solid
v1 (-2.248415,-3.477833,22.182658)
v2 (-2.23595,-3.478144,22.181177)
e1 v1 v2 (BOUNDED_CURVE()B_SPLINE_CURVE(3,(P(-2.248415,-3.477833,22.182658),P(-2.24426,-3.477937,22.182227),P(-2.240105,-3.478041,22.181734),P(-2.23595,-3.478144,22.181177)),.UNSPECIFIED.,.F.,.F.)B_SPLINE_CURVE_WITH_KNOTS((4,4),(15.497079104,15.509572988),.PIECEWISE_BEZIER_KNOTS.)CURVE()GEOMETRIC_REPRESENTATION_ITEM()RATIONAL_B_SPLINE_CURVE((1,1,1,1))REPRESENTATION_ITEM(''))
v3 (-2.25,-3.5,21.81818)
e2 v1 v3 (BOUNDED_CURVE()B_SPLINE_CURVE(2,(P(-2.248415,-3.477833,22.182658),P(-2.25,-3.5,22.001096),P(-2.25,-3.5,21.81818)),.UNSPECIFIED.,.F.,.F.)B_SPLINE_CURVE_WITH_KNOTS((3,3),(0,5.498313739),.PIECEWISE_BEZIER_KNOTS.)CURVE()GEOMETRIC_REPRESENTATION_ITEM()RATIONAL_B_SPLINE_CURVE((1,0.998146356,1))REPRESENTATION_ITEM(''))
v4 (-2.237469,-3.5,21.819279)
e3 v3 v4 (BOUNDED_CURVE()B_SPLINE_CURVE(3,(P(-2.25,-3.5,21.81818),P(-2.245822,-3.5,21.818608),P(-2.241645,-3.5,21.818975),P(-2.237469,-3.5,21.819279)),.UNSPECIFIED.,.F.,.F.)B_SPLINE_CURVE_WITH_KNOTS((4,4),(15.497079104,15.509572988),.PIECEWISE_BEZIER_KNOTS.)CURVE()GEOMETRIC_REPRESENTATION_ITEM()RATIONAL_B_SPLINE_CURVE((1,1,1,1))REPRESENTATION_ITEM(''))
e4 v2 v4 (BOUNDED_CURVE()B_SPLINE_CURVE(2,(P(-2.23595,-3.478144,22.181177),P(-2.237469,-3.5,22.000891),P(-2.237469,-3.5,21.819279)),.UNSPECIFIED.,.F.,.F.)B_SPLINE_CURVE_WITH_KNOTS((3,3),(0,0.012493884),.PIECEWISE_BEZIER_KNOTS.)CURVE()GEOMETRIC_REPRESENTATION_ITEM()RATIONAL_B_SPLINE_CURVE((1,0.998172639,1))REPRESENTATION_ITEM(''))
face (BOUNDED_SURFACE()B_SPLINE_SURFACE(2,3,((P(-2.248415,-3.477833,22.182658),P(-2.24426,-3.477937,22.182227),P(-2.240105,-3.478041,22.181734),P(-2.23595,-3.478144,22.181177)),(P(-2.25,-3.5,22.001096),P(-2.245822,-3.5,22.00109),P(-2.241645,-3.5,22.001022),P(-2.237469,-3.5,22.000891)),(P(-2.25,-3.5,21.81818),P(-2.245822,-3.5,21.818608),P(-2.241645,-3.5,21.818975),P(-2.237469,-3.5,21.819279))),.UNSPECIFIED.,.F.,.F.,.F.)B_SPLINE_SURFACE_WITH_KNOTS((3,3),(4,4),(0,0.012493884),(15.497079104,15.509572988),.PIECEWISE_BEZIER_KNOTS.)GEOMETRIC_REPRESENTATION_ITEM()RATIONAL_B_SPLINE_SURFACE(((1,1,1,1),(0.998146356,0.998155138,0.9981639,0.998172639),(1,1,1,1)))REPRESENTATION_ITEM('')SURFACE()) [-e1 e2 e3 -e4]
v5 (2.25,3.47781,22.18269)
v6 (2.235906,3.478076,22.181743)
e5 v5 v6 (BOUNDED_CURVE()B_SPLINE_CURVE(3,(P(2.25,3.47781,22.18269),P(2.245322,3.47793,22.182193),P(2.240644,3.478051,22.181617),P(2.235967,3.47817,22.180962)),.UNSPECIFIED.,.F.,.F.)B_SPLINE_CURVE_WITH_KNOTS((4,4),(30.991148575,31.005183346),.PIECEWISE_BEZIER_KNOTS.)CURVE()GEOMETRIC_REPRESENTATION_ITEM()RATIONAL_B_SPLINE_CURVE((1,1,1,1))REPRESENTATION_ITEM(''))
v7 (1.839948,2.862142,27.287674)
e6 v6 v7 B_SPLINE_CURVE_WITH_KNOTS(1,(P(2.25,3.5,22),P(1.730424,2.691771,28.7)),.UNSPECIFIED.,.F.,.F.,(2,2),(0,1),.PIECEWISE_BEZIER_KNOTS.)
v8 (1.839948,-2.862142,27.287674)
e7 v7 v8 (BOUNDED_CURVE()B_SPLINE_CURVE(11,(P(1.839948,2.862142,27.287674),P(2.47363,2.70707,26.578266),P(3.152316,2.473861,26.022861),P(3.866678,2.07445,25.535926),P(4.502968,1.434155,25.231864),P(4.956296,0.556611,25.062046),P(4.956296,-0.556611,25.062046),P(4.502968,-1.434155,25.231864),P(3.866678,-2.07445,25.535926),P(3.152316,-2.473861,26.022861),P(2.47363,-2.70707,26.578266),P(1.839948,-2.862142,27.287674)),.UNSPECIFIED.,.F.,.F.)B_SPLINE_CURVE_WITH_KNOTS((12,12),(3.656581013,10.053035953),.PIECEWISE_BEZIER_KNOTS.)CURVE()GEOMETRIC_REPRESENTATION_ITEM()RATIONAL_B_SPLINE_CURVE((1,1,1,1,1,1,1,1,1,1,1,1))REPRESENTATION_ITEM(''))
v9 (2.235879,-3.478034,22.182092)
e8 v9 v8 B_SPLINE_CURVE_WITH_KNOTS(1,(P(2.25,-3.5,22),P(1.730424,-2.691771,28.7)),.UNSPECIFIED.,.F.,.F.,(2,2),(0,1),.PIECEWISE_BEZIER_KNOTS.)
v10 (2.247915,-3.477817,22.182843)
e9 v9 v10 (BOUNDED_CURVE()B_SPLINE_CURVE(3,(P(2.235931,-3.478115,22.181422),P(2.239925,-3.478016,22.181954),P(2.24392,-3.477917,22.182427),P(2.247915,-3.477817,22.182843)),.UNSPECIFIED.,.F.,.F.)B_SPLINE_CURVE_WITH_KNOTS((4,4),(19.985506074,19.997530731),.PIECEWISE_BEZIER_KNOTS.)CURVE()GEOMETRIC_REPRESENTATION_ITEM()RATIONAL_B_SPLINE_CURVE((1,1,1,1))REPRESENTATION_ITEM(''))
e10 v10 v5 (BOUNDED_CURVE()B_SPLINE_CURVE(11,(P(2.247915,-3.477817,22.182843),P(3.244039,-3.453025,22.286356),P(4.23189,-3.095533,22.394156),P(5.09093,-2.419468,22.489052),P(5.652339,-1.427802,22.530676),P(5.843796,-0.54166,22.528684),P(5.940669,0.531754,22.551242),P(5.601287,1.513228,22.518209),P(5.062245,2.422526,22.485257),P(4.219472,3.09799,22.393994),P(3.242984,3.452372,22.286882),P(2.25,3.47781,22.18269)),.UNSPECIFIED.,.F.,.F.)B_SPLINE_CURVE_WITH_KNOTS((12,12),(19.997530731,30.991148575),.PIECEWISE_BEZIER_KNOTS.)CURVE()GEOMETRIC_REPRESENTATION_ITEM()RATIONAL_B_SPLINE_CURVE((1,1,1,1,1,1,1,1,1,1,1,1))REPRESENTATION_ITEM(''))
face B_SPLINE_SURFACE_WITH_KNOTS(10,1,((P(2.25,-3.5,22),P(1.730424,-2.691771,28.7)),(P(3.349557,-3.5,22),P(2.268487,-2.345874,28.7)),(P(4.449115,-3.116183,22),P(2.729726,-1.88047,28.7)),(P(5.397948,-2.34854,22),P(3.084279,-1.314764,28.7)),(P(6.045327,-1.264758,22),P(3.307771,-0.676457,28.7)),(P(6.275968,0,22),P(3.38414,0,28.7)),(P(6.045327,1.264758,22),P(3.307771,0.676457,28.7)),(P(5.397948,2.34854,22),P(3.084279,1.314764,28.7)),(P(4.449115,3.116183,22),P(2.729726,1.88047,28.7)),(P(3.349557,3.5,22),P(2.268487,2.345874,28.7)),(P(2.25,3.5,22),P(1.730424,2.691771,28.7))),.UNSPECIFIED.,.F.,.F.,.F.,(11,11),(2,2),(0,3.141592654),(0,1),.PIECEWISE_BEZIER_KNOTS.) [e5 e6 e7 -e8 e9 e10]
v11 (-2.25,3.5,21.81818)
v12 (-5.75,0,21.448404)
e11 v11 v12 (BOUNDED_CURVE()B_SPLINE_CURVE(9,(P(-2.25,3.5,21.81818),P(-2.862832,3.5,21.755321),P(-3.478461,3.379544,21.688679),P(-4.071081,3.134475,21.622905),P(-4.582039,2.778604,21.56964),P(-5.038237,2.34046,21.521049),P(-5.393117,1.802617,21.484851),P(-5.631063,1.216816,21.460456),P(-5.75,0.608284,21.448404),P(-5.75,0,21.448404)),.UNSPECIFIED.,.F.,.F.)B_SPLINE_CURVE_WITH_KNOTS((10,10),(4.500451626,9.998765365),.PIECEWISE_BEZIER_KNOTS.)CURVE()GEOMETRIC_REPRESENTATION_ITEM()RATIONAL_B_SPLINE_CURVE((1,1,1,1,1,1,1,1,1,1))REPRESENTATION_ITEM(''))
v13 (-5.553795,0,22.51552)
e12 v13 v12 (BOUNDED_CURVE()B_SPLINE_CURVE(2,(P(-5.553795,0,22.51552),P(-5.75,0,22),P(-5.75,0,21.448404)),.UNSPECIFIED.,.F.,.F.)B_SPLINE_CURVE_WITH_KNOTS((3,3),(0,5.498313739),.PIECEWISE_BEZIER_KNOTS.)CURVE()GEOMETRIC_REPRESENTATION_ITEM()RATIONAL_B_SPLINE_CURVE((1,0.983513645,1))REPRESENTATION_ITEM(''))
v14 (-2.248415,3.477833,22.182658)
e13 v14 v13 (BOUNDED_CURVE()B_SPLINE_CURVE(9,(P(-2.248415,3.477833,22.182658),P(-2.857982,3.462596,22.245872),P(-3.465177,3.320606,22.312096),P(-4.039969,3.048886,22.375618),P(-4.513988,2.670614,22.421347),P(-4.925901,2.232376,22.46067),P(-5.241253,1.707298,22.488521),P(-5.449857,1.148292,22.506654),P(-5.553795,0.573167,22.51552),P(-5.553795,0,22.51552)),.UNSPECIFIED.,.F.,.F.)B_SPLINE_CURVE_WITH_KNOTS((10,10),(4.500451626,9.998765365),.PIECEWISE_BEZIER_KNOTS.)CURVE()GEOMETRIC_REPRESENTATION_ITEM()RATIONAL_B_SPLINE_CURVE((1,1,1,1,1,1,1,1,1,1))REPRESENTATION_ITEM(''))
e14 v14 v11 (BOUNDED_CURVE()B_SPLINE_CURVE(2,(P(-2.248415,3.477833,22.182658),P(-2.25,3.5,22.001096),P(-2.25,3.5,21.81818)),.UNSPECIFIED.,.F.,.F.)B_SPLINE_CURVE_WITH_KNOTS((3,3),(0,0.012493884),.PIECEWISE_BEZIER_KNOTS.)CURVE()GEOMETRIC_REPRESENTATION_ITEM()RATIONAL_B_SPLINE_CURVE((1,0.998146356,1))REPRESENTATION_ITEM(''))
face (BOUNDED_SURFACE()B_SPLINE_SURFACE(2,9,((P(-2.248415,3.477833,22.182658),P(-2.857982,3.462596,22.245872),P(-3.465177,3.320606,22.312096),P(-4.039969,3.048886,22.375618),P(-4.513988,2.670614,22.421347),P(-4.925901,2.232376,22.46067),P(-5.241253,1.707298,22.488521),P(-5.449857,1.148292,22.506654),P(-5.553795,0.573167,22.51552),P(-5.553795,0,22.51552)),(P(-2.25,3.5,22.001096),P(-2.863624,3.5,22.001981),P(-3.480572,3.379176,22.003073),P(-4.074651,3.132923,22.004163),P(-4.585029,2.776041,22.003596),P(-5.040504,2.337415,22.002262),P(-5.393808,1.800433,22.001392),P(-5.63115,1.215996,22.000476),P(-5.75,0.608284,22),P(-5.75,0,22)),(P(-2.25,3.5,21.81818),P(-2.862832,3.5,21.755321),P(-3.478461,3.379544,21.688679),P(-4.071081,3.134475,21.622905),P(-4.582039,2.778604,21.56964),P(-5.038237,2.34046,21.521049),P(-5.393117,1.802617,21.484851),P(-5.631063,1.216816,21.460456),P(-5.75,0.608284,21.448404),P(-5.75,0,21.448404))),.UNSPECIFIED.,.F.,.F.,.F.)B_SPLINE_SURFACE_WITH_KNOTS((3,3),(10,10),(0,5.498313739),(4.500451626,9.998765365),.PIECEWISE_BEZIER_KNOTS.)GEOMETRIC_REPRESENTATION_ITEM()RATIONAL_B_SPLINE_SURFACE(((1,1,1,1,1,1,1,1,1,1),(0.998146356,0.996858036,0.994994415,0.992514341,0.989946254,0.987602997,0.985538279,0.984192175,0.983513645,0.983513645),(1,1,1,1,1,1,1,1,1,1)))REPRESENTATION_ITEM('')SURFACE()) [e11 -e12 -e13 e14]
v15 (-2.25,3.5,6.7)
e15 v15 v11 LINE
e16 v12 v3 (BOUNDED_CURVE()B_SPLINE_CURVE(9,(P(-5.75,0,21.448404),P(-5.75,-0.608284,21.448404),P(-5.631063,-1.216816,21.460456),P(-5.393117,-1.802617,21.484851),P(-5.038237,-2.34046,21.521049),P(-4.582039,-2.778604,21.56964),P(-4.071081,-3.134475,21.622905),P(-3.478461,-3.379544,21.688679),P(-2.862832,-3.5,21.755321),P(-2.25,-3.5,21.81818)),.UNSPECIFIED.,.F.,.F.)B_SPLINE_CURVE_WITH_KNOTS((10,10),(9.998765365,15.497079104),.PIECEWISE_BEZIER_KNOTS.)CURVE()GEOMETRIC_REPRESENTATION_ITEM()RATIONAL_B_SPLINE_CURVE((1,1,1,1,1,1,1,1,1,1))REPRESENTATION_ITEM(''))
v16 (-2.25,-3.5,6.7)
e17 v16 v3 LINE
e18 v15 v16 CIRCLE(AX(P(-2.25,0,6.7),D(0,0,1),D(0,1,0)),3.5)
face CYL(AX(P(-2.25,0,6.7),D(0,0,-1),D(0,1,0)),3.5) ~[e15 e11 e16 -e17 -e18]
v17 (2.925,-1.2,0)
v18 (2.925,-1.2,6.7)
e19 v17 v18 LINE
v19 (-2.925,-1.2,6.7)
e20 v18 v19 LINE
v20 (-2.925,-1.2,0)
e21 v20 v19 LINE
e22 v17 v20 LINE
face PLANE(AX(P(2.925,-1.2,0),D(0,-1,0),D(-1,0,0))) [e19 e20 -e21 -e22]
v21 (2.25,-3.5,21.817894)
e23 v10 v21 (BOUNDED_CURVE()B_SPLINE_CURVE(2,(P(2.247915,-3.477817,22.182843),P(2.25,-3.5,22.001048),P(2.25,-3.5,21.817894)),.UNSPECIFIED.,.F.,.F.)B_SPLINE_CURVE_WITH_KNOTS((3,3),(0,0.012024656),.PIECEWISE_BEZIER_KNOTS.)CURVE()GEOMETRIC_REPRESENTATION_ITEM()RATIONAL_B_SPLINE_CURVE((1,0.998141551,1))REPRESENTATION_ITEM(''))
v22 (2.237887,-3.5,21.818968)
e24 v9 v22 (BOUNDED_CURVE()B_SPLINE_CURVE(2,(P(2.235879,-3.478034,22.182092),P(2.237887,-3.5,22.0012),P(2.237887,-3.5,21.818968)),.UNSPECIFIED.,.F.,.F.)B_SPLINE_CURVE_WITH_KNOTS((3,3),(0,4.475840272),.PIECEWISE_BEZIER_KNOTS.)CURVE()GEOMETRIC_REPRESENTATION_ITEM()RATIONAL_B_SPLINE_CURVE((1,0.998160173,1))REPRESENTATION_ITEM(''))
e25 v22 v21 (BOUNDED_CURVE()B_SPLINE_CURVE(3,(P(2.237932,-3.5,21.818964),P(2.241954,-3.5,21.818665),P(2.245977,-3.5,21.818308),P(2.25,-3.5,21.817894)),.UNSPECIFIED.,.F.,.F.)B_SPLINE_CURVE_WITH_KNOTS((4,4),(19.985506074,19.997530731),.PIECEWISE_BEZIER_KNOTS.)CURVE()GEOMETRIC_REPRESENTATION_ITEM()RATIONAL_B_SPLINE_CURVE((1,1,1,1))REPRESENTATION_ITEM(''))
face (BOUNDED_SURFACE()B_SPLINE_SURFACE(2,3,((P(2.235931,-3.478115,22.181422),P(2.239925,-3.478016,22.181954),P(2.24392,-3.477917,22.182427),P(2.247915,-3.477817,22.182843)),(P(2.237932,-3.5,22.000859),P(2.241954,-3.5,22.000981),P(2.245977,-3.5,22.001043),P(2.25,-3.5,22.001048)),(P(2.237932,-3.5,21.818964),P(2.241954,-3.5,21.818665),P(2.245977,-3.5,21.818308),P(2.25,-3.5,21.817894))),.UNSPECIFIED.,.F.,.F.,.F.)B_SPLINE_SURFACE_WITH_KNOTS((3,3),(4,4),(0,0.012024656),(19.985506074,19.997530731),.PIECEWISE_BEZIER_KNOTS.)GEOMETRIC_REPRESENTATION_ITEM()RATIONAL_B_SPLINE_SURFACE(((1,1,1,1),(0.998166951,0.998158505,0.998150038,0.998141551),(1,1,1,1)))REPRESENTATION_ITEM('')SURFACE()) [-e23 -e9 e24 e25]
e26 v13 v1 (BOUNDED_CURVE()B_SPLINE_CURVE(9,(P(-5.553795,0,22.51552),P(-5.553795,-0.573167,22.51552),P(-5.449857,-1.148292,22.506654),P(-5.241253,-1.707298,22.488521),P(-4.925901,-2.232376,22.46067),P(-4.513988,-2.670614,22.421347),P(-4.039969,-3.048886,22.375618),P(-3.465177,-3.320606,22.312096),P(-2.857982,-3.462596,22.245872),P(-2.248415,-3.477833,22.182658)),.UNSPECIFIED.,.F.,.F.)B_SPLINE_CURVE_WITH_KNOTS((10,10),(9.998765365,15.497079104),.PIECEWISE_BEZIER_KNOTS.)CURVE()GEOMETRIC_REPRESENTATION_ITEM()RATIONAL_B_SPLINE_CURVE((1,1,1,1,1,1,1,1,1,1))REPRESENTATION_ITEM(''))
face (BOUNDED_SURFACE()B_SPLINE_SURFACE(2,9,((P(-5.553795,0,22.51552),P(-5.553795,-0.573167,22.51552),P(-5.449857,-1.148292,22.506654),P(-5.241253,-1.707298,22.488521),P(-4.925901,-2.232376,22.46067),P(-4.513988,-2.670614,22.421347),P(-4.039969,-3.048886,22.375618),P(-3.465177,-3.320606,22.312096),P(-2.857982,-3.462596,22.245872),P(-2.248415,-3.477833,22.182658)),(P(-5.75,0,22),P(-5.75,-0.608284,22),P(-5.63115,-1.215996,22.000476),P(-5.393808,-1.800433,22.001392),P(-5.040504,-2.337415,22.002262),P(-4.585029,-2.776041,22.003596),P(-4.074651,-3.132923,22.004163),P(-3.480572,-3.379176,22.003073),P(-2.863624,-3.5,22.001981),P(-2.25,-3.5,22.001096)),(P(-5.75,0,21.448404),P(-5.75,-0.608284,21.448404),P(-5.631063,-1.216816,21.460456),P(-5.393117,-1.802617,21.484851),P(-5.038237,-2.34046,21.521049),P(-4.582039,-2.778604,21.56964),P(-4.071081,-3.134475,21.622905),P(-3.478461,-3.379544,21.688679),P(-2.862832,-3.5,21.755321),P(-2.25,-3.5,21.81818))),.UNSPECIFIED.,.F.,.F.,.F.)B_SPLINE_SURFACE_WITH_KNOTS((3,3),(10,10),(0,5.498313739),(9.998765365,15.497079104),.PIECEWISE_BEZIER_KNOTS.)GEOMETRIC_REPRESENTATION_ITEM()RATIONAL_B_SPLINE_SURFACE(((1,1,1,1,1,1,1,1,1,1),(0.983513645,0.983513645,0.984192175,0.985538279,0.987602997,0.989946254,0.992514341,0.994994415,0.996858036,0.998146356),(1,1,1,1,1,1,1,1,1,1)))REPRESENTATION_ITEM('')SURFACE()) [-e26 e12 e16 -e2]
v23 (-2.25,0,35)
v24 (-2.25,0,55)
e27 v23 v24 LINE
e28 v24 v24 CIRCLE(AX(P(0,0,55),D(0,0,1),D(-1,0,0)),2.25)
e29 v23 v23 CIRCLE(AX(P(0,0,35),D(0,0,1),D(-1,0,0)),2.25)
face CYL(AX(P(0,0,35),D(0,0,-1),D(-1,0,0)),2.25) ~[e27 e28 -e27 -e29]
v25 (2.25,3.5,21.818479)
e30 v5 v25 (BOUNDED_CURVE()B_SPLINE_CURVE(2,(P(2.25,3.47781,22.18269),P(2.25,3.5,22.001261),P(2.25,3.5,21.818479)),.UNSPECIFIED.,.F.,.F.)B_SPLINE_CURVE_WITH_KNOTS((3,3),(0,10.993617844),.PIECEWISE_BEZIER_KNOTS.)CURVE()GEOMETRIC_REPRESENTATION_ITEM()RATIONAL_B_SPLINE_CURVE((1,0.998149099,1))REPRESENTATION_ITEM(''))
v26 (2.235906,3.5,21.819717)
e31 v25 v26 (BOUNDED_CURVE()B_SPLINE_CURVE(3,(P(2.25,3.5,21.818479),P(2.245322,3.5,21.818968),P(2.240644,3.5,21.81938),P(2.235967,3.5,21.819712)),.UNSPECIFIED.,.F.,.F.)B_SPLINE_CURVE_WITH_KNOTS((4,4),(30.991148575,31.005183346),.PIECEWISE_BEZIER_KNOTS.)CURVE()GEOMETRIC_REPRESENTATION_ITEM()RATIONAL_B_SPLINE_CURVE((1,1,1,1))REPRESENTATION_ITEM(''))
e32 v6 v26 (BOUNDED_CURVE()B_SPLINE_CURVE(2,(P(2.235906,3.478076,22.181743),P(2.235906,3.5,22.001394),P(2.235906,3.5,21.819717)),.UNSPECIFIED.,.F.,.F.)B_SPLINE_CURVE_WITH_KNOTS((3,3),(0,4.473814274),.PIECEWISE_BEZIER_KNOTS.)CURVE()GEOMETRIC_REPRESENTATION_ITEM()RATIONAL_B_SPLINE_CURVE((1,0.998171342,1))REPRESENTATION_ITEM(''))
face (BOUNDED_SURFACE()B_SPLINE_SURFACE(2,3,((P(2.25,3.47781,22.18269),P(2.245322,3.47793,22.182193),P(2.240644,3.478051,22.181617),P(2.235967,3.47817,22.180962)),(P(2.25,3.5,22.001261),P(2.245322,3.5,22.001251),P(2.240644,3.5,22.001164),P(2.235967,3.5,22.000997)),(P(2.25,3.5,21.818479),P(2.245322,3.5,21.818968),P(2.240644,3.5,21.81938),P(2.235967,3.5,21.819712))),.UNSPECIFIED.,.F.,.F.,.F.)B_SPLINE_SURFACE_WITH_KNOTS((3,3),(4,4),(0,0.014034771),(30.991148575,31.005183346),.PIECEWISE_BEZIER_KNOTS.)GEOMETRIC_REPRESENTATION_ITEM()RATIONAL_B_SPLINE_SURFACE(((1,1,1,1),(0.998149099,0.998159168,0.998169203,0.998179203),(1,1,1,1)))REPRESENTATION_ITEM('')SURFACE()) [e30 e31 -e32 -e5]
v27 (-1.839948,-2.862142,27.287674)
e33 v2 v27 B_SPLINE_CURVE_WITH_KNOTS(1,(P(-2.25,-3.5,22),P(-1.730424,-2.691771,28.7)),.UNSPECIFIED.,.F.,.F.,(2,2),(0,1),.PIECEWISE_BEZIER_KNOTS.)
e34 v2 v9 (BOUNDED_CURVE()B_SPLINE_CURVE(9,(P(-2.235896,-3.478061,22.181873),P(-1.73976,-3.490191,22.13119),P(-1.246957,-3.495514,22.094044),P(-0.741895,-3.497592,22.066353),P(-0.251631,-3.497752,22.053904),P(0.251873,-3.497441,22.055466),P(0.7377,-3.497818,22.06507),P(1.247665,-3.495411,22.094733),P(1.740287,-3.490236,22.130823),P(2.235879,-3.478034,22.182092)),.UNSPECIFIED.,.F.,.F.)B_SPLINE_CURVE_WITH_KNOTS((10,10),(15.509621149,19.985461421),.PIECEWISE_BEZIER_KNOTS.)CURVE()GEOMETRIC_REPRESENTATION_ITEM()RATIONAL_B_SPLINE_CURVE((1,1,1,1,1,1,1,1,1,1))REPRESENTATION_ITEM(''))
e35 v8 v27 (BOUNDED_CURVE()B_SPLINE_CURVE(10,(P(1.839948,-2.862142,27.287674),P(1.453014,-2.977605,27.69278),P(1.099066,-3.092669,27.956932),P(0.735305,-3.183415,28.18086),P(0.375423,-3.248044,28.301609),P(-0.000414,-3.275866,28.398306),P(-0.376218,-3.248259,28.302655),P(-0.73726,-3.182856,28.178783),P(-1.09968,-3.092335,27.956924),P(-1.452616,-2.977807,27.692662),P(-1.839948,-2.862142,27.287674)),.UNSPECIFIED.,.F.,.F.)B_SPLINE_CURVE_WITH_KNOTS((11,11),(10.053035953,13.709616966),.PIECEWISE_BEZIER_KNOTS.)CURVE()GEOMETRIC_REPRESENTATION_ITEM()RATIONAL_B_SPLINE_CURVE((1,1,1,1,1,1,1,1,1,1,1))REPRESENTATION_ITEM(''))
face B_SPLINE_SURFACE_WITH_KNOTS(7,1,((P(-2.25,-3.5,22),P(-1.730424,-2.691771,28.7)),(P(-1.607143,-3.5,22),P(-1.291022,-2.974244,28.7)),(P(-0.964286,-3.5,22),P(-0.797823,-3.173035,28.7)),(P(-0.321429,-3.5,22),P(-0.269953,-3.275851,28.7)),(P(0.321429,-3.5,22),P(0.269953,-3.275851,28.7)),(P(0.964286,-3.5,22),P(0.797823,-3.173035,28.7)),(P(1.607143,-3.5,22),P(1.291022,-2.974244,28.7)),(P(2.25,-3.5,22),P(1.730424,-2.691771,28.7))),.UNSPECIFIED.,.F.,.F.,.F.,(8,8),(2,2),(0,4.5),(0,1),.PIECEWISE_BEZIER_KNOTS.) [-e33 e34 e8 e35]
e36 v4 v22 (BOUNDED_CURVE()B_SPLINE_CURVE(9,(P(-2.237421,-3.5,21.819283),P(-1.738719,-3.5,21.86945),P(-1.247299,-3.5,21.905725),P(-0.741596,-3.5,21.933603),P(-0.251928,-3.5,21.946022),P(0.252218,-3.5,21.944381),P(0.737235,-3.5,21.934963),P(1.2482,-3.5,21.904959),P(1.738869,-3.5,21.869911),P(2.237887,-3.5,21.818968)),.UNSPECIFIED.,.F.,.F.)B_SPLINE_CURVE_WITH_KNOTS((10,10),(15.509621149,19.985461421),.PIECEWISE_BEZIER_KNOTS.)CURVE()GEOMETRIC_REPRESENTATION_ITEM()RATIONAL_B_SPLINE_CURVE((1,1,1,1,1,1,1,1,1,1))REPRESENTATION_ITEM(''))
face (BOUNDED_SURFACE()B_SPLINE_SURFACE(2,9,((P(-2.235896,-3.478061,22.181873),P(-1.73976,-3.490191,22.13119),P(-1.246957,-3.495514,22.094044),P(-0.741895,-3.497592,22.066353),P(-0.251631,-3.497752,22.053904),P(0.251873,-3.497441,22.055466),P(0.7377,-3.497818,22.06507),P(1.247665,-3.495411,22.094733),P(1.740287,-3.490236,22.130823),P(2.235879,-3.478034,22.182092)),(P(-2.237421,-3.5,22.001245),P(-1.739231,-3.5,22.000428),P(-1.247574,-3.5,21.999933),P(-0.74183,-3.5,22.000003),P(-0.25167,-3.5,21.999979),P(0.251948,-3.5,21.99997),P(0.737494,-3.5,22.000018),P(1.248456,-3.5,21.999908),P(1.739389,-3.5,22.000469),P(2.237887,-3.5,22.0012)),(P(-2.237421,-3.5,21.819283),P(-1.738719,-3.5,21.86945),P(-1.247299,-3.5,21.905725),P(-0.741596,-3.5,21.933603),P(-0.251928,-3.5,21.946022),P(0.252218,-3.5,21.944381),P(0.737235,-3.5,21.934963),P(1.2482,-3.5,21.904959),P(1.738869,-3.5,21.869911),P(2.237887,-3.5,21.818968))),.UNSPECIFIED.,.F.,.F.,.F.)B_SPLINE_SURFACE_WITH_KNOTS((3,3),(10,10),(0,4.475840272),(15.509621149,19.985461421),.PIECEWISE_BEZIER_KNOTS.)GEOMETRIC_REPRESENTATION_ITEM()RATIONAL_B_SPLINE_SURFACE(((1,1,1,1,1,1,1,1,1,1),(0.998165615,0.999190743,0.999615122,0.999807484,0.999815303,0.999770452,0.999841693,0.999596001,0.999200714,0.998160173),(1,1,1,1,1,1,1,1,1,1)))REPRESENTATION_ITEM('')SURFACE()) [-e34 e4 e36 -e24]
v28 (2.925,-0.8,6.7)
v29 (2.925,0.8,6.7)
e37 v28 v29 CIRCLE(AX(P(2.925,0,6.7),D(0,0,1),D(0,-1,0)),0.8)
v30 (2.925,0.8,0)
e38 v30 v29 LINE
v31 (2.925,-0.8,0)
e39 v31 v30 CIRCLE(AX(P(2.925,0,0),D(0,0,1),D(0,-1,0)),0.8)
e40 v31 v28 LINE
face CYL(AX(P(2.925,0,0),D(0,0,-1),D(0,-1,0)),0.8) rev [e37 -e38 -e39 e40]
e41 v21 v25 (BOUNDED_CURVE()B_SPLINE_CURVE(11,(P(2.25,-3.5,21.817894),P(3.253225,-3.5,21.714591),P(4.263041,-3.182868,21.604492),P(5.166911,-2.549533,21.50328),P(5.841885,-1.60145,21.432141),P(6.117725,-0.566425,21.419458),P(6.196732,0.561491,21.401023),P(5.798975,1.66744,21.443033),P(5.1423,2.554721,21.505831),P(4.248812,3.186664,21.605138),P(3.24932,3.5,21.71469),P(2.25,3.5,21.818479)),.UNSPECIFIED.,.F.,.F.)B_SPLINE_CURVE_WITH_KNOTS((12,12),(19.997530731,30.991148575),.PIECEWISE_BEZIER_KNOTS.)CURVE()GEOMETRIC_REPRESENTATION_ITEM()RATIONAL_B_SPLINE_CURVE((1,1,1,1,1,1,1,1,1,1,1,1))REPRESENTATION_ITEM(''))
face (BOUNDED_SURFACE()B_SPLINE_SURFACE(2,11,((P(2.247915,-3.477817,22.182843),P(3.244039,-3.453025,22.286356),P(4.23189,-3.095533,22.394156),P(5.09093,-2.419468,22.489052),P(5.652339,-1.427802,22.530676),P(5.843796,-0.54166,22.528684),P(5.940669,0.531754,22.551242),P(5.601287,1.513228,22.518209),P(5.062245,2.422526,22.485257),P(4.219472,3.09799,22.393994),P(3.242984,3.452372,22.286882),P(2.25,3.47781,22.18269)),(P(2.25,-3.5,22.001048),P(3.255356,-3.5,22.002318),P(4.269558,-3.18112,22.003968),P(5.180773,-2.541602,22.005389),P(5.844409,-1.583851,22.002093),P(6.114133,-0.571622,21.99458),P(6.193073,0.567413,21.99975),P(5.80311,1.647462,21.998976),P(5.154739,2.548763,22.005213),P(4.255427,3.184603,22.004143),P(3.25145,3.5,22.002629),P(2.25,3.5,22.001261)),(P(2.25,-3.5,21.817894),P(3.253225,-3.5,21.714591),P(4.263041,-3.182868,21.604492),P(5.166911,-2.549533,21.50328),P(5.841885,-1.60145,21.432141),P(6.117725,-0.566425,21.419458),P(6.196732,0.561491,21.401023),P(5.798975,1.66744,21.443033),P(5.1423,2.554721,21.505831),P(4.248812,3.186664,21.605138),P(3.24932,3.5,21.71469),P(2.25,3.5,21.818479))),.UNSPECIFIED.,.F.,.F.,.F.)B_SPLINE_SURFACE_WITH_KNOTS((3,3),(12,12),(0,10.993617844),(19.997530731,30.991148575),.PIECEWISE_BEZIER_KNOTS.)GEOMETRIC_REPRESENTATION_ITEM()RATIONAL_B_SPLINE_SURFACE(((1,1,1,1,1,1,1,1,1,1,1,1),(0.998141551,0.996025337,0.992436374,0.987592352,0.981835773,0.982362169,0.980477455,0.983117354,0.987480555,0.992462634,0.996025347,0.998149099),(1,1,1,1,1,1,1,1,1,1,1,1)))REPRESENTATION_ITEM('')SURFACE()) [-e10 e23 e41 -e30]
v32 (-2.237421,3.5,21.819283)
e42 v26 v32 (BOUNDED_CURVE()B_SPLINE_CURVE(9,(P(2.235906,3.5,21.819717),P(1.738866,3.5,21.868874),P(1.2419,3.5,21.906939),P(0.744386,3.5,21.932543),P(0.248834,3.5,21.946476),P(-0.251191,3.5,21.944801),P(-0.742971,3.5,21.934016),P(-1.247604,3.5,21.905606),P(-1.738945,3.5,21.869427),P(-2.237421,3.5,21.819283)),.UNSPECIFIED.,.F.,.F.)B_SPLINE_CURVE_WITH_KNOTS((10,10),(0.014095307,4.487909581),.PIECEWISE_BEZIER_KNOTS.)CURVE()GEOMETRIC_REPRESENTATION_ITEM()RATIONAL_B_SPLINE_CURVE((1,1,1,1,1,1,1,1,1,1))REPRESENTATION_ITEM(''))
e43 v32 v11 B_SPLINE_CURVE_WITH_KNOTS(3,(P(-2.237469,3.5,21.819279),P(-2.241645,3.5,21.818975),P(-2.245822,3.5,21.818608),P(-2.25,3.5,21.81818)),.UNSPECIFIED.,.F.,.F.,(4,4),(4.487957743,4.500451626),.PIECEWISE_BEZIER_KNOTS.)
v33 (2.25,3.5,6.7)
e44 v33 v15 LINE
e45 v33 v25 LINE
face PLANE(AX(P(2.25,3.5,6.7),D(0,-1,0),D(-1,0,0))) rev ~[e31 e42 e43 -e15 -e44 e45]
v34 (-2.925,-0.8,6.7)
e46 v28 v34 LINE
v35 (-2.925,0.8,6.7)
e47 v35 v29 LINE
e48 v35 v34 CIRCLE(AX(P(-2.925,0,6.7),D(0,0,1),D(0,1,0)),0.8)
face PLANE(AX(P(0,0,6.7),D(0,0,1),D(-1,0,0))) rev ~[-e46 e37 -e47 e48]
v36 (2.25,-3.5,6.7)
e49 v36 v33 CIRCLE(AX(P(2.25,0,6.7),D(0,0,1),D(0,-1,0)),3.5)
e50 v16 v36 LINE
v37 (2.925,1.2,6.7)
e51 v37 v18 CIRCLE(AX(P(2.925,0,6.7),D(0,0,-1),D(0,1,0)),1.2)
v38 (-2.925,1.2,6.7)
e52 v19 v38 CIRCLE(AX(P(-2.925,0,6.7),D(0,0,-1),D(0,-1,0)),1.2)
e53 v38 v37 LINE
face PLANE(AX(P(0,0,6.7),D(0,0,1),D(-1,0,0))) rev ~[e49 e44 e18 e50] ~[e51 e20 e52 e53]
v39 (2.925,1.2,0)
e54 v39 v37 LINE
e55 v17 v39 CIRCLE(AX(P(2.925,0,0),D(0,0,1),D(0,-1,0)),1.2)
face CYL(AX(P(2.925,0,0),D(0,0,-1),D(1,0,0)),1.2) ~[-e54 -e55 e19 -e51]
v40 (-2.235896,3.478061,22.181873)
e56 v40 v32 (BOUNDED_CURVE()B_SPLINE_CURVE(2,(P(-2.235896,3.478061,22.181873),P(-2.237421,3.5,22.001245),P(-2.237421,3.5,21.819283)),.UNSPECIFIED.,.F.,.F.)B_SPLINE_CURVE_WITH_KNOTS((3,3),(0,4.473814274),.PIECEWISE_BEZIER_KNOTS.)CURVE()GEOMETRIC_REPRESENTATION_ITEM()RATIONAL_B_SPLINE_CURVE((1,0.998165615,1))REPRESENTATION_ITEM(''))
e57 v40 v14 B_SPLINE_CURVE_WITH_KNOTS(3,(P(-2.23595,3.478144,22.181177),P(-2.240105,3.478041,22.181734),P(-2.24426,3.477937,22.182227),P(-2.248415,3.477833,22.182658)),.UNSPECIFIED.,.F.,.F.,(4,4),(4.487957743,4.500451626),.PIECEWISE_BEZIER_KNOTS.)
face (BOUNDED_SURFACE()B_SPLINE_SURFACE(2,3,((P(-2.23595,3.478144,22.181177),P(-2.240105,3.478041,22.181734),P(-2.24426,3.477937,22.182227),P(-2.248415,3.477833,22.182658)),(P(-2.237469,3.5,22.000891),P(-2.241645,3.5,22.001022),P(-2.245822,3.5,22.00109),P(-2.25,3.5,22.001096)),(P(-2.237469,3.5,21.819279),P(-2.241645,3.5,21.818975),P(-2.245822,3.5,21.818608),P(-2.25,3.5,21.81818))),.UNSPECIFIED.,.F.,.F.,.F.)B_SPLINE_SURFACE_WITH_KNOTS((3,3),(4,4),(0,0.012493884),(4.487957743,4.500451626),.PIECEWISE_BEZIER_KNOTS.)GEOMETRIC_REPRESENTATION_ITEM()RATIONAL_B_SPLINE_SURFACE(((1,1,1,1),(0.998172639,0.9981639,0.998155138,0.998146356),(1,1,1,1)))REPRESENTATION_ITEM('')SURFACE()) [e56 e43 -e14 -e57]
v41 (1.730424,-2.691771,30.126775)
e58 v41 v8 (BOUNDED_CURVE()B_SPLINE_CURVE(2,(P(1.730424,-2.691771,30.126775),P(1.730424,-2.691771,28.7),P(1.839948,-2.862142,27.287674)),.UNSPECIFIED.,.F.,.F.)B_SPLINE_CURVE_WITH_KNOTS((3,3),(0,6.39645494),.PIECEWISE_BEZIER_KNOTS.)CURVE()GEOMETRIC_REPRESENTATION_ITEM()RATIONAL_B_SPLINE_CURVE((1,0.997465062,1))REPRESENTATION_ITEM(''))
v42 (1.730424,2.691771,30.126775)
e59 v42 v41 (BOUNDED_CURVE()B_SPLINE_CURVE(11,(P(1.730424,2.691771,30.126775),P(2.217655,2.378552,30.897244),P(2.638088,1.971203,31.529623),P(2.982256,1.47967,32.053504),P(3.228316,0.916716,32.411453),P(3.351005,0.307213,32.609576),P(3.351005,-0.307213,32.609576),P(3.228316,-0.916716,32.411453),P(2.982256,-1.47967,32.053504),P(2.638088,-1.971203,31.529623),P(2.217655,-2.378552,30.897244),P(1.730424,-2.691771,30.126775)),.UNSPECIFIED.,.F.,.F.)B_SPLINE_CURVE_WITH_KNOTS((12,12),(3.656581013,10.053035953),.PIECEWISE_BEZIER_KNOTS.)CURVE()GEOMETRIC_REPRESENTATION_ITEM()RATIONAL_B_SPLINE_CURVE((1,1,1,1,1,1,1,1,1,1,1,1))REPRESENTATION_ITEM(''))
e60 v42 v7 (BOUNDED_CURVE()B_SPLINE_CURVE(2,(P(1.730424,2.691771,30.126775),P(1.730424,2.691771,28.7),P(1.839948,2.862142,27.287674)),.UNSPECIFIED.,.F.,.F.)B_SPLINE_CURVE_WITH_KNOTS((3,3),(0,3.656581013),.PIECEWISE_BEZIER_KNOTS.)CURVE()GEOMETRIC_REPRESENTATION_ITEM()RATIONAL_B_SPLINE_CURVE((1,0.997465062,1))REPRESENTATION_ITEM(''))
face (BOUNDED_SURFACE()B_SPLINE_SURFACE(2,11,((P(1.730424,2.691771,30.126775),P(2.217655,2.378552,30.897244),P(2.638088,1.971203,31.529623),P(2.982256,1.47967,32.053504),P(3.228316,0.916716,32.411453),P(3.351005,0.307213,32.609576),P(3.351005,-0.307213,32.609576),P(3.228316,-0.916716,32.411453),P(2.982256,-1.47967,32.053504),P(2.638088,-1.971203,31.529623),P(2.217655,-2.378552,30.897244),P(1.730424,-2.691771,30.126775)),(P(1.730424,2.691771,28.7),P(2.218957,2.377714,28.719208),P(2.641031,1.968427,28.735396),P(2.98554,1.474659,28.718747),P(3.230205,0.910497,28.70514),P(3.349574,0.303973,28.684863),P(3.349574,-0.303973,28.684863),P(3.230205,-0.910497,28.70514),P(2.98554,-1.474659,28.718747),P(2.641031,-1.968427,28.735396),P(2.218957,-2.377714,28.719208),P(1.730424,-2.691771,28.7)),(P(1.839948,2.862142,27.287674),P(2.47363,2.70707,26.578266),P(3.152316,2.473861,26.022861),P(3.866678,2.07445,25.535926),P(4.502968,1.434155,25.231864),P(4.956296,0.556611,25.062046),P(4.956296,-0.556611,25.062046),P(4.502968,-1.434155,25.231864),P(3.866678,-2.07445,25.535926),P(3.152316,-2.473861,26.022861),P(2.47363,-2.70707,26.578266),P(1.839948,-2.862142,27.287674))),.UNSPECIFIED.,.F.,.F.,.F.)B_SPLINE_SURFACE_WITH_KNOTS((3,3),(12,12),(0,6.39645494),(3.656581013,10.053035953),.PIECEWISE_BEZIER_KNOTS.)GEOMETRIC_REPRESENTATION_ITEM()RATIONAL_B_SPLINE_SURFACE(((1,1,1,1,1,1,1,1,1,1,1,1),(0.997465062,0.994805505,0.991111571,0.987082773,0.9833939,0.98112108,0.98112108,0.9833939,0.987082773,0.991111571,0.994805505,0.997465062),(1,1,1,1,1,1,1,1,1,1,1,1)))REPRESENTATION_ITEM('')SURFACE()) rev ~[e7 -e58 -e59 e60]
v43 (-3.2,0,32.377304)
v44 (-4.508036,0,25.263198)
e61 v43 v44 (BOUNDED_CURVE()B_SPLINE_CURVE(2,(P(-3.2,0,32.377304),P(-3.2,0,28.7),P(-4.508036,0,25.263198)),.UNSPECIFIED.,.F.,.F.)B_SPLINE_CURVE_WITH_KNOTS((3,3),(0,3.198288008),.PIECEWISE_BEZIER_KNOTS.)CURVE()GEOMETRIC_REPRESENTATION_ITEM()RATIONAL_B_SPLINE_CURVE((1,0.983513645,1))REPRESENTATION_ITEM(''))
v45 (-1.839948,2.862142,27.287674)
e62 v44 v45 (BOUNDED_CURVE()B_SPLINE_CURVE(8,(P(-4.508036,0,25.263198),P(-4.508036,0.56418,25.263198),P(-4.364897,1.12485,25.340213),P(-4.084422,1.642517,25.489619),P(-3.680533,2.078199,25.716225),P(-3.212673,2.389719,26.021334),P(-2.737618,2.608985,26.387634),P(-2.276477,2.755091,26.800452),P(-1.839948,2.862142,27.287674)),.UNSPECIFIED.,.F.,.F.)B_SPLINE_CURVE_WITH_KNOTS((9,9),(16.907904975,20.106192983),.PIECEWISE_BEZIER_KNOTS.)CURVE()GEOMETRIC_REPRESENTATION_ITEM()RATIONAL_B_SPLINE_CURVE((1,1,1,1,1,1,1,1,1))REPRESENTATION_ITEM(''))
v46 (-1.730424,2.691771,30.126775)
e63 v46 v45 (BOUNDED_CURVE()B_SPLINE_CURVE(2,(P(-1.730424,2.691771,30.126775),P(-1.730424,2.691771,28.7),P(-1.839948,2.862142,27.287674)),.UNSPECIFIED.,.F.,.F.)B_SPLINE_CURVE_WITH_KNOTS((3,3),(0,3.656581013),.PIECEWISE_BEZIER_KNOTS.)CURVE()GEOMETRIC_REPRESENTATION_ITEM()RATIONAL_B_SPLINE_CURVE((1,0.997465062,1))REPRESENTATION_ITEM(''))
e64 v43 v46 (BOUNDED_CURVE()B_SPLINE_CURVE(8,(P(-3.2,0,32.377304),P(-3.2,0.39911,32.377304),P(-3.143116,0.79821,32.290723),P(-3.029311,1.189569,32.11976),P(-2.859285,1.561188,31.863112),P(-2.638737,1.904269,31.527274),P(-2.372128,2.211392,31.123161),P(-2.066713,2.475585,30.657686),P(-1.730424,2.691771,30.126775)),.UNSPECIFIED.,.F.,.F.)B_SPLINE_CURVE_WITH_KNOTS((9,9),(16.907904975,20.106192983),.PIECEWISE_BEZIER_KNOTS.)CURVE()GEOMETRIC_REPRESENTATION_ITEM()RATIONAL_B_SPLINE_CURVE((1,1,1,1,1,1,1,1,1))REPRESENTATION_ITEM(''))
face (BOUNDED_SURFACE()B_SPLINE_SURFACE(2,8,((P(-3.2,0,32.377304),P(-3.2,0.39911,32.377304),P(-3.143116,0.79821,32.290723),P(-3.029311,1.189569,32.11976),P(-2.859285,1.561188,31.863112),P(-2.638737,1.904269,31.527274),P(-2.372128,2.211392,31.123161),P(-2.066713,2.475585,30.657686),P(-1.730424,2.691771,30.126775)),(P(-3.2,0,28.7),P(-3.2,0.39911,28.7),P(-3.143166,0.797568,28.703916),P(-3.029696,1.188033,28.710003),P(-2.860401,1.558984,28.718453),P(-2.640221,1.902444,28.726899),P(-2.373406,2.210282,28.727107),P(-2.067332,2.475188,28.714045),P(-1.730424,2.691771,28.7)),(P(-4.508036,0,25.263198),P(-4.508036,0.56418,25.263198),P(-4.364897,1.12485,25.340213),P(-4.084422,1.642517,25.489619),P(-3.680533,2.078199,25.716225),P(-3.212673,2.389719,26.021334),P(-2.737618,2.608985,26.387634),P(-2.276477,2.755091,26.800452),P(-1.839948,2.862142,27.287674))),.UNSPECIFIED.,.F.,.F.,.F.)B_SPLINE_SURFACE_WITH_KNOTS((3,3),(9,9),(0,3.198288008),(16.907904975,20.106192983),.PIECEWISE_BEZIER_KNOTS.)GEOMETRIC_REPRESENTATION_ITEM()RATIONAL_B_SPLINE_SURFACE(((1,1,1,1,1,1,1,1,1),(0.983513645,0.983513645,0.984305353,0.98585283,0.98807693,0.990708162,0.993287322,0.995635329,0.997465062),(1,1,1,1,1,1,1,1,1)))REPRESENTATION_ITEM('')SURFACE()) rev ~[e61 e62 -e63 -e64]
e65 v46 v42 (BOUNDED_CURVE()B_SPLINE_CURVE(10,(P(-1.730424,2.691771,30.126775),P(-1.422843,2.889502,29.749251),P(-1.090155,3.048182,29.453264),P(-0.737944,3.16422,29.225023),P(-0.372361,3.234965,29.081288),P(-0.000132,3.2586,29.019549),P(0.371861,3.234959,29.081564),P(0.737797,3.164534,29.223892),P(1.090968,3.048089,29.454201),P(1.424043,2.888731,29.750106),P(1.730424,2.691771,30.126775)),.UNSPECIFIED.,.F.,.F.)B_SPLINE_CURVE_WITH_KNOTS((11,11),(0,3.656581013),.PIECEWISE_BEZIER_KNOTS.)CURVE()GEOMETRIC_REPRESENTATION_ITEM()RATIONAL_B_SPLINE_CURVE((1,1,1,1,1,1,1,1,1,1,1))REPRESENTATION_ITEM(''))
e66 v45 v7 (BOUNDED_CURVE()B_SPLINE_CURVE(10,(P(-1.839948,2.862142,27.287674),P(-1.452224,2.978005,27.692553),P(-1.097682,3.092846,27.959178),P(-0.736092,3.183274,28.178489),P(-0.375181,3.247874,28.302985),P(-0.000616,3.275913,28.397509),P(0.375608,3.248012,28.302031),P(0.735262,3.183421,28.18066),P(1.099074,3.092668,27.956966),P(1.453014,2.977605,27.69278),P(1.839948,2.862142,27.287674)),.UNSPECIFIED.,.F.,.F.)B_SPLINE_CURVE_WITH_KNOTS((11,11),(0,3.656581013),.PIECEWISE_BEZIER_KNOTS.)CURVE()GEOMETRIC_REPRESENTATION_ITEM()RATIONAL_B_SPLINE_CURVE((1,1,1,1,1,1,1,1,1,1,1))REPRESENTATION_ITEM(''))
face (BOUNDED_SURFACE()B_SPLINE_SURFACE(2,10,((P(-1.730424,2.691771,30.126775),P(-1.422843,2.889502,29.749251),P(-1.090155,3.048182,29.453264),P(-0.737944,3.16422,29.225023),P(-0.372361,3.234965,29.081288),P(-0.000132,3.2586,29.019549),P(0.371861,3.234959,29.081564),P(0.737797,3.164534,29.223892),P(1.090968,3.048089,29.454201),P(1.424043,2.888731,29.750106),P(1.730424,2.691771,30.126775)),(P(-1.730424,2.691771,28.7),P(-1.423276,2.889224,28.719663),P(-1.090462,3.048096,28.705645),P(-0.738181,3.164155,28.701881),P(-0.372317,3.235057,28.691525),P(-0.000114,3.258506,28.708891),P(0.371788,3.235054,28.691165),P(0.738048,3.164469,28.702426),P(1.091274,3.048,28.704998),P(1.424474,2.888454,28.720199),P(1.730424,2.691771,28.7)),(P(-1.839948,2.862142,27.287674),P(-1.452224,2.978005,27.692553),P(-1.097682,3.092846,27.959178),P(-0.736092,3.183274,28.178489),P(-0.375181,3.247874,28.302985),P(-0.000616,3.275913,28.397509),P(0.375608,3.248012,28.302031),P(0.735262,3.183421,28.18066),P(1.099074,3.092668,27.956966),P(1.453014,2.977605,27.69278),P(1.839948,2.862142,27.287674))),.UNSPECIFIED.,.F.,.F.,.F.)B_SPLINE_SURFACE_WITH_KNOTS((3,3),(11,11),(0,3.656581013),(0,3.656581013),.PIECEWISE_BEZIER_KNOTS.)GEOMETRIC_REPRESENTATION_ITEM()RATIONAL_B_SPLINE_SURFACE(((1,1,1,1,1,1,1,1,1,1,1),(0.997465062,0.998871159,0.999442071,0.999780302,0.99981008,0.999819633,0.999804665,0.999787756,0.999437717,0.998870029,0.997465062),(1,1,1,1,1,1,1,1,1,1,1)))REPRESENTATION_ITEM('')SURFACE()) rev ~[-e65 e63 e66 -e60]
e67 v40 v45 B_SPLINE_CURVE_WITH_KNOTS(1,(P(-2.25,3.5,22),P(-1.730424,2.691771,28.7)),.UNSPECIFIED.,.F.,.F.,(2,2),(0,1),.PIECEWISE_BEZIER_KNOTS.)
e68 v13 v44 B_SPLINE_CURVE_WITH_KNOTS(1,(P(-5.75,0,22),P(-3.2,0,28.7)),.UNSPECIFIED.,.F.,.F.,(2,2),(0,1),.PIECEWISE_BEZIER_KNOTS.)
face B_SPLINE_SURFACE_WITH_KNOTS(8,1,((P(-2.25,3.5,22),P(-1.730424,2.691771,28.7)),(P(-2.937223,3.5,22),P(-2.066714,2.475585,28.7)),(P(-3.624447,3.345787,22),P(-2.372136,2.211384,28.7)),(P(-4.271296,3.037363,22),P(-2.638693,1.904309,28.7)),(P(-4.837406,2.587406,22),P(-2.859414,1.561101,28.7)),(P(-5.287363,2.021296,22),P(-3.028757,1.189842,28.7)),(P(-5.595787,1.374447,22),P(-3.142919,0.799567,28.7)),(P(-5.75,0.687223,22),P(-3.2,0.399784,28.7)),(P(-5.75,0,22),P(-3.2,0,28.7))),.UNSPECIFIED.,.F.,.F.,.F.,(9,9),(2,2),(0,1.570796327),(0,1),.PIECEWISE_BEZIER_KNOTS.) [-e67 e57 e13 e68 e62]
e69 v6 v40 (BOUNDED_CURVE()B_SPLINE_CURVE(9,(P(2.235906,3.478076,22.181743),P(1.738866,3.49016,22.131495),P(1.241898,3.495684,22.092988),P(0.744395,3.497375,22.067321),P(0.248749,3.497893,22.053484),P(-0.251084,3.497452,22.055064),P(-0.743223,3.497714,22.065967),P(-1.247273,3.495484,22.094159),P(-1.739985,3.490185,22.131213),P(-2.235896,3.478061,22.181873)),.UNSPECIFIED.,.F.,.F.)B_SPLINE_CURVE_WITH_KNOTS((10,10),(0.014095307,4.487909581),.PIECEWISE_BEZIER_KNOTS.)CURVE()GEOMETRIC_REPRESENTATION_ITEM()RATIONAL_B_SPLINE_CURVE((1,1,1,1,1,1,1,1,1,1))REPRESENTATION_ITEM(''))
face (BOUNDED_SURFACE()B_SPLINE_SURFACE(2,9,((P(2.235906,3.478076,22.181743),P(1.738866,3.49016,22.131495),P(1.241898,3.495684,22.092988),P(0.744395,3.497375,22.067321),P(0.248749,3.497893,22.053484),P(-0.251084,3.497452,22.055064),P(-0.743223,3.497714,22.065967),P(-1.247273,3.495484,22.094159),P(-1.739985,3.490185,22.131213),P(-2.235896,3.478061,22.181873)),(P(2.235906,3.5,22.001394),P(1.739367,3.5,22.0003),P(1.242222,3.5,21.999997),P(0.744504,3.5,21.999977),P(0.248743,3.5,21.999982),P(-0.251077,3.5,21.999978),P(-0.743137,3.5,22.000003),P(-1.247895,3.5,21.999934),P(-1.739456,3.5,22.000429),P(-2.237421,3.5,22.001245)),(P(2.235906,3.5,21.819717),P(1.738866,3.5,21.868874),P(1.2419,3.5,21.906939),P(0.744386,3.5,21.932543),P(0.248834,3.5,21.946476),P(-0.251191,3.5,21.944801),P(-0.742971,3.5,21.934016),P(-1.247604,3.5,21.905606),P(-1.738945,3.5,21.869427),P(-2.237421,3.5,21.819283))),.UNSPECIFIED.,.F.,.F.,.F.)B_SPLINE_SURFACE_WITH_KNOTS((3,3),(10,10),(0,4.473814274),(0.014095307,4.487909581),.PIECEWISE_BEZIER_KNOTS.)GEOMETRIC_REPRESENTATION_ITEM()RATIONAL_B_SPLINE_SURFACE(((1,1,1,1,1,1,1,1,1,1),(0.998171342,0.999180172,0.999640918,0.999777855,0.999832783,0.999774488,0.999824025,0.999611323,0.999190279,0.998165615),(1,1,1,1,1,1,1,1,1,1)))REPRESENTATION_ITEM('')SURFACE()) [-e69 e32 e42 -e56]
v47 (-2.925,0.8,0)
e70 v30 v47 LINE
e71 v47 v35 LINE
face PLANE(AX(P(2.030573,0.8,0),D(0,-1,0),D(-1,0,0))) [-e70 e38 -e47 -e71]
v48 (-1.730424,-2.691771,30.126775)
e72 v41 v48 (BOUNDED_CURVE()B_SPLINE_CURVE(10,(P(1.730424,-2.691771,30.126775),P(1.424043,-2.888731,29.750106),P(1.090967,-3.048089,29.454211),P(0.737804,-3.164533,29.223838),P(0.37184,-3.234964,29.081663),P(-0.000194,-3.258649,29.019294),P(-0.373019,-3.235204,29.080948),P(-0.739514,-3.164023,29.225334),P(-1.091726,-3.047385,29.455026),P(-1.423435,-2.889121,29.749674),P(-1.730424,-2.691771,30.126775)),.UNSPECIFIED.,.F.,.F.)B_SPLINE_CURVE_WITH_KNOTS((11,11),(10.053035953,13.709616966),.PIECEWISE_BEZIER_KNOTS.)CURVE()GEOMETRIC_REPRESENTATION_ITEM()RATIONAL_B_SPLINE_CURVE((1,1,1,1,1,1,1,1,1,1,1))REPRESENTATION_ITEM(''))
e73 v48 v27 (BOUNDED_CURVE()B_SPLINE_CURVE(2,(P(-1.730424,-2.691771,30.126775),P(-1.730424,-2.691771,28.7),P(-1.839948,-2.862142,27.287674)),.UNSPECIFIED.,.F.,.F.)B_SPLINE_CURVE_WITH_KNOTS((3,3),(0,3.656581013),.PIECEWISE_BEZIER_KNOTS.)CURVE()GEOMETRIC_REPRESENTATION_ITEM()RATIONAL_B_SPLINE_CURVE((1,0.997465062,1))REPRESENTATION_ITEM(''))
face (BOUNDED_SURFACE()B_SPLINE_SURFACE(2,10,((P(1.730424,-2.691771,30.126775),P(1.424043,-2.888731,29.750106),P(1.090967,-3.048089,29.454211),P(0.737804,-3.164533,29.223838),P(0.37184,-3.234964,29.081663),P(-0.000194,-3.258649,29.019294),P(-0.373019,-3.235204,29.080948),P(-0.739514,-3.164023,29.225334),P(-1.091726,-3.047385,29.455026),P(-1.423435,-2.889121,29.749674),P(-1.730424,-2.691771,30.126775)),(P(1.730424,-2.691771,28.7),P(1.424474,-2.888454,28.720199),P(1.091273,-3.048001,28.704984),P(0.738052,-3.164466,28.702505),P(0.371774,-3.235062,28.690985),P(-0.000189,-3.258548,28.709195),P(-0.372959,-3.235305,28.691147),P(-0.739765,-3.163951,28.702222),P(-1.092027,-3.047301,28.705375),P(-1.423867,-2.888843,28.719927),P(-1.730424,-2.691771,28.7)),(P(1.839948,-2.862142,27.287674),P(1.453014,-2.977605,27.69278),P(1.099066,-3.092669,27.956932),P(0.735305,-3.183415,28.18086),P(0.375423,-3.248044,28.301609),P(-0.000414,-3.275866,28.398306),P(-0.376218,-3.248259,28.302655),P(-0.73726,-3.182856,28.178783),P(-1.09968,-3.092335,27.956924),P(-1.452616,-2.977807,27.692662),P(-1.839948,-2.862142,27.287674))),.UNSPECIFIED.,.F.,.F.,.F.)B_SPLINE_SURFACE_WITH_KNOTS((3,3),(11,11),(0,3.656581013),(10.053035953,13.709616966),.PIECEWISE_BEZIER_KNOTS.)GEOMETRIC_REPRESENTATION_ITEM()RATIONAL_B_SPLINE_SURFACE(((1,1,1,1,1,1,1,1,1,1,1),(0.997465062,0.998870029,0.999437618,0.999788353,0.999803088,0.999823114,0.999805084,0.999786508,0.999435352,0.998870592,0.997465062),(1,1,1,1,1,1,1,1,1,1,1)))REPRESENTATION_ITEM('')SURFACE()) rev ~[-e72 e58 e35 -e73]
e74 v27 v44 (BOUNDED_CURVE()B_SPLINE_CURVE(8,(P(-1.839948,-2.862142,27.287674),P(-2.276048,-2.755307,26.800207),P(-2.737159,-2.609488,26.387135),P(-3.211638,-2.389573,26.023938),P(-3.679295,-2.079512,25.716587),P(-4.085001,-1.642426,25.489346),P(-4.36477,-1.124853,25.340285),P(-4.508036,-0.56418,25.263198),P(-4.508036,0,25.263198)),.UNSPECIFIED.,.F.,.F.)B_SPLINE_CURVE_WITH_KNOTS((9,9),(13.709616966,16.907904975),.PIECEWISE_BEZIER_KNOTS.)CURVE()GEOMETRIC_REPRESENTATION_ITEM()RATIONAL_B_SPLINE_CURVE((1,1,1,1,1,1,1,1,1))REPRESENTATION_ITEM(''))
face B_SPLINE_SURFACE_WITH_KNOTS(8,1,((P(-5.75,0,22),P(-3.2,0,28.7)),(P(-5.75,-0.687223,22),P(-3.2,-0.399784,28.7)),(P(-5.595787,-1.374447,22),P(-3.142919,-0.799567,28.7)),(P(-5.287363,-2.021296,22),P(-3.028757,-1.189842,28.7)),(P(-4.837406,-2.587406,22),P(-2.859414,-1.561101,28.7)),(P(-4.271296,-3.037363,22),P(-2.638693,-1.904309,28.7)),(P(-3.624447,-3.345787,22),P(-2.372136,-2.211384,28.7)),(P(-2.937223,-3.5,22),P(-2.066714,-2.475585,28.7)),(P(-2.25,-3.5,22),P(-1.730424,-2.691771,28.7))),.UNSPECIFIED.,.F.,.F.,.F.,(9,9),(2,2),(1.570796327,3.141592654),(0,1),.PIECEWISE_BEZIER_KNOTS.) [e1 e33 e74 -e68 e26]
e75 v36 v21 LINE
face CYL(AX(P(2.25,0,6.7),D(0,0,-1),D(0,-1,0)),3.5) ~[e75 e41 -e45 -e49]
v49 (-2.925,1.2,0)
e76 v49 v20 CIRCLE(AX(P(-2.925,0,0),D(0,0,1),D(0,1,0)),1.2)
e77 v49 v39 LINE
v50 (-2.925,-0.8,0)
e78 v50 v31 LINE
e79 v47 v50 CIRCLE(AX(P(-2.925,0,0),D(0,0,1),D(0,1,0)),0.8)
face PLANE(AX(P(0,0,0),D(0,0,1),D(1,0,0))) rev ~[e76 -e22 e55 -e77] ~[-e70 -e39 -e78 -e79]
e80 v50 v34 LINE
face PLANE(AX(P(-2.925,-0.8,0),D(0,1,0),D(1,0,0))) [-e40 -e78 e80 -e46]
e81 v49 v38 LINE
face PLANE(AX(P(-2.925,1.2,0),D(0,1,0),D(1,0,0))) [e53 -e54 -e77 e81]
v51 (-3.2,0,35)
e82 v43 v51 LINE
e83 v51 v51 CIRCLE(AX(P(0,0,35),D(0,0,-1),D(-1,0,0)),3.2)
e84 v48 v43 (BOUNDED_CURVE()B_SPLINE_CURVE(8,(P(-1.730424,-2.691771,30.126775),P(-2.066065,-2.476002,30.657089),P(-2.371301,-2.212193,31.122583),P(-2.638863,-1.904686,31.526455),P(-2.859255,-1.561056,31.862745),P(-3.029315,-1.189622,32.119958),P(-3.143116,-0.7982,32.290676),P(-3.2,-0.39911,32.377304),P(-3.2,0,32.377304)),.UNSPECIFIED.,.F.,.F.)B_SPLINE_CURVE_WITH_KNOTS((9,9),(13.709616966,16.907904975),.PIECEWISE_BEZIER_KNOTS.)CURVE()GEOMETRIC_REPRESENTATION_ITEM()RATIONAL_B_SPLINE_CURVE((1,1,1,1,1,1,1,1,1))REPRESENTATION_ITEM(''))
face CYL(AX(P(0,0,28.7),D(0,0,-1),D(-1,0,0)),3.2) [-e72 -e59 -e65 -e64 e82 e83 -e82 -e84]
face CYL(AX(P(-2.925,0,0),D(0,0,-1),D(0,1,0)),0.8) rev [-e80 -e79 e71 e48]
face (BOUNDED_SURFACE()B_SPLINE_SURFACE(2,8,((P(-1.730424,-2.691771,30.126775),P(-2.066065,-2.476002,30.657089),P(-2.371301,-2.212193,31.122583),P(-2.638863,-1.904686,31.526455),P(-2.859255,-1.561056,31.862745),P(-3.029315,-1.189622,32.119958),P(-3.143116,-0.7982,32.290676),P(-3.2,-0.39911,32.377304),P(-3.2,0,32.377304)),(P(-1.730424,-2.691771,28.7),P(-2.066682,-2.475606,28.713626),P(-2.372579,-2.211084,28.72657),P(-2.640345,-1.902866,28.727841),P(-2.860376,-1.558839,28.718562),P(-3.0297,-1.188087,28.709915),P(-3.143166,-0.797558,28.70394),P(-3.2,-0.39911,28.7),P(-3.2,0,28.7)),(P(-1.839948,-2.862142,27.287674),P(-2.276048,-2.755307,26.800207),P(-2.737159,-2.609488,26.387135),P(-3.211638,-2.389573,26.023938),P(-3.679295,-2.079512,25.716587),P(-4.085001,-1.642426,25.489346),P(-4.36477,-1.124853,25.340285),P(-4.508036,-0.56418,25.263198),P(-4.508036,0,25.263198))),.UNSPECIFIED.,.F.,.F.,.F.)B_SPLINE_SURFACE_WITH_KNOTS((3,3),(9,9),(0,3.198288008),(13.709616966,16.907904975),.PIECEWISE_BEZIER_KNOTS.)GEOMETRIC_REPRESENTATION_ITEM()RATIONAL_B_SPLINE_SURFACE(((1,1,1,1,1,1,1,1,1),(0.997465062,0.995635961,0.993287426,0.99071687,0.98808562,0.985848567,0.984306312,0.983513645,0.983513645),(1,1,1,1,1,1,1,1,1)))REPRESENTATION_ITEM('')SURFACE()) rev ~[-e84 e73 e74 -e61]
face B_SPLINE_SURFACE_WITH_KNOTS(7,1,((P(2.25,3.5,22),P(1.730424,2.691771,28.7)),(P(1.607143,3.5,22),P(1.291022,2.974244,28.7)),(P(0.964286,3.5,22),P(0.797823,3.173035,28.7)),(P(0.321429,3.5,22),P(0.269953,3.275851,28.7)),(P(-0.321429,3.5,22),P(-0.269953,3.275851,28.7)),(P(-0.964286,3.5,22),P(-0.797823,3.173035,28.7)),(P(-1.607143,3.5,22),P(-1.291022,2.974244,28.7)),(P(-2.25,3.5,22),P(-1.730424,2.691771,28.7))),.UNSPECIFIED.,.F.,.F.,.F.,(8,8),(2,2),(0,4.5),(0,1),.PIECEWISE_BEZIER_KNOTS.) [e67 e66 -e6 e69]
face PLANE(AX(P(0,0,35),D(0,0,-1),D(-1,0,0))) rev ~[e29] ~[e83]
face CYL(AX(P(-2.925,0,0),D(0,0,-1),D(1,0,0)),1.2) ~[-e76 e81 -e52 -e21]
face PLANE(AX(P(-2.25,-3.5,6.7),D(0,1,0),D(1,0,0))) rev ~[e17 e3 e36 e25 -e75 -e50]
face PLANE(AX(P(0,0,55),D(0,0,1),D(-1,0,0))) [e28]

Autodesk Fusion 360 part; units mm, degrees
sketch "Sketch1" plane through (0, 0, 0) normal (0, 0, 1) x (1, 0, 0)
  line L0 (-4.125, 1.2) -> (4.125, 1.2)
  line L1 (4.125, 1.2) -> (4.125, -1.2)
  line L2 (4.125, -1.2) -> (-4.125, -1.2)
  line L3 (-4.125, -1.2) -> (-4.125, 1.2)
  line L4 (-4.125, 1.2) -> (4.125, -1.2) construction
  line L5 (4.125, 1.2) -> (-4.125, -1.2) construction
  circle A0 centre (-2.925, 0) radius 1.2
  circle A1 centre (2.925, 0) radius 1.2
  line L6 (-2.925, -0.8) -> (2.925, -0.8)
  arc A2 (2.925, -0.8) -> (2.925, 0.8) centre (2.925, 0) ccw
  line L7 (2.925, 0.8) -> (-2.925, 0.8)
  arc A3 (-2.925, 0.8) -> (-2.925, -0.8) centre (-2.925, 0) ccw
  line L8 (-2.925, 0) -> (2.925, 0) construction
  dimension "d1" = 8.25
  dimension "d2" = 2.4
  dimension "d3" = 0.4
extrude "Extrude1" add sketch "Sketch1" along normal blind 6.7 contours L0 A0 A1 L7 | A0 L6 L7 A3 | A1 L6 A2 L7 | L2 A0 A1 L6 picked at (-3.9868, -0.0769) picked at (3.9868, -0.0769)
sketch "Sketch2" plane through (0, 0, 6.7) normal (0, 0, 1) x (-1, 0, 0)
  arc A0 (2.925, -0.8) -> (2.925, 0.8) centre (2.925, 0) ccw
  line L0 (2.925, -0.8) -> (-2.925, -0.8)
  arc A1 (-2.925, 0.8) -> (-2.925, -0.8) centre (-2.925, 0) ccw
  line L1 (-2.925, 0.8) -> (2.925, 0.8)
  arc A2 (2.925, -1.2) -> (2.925, 1.2) centre (2.925, 0) ccw
  line L2 (2.925, 1.2) -> (-2.925, 1.2)
  arc A3 (-2.925, 1.2) -> (-2.925, -1.2) centre (-2.925, 0) ccw
  line L3 (-2.925, -1.2) -> (2.925, -1.2)
  line L4 (2.25, 3.5) -> (-2.25, 3.5)
  arc A4 (-2.25, 3.5) -> (-2.25, -3.5) centre (-2.25, 0) ccw
  line L5 (-2.25, -3.5) -> (2.25, -3.5)
  arc A5 (2.25, -3.5) -> (2.25, 3.5) centre (2.25, 0) ccw
  line L6 (2.25, 0) -> (-2.25, 0) construction
  line L7 (5.75, 0) -> (5.75, -5.6994) construction
  line L8 (-5.75, 0) -> (-5.75, -5.542) construction
  dimension "d7" = 7
  dimension "d8" = 11.5
extrude "Extrude2" add sketch "Sketch2" along normal blind 15.3 contours A0 L0 A1 L1 | A2 L2 A3 L3 | L4 A4 L5 A5
ref_plane "WorkPlane2" through (0, 0, 28.7) normal (0, 0, -1) x (1, 0, 0)
sketch "Sketch3" plane through (0, 0, 28.7) normal (0, 0, -1) x (-1, 0, 0)
  circle A0 centre (0, 0) radius 3.2
  dimension "d12" = 6.4
loft "Loft1" add profiles "Sketch3" section 1 face at (-0.75, 1.1667, 22) section 2
extrude "Extrude3" add sketch "Sketch3" against normal blind 6.3
fillet "Fillet1" radius 20 4 edges at (0.3491, 3.1809, 28.7) (3.1809, -0.3491, 28.7) (-0.3491, -3.1809, 28.7) (-3.1809, 0.3491, 28.7)
fillet "Fillet3" radius 3 4 edges at (0, 3.5, 22) (-5.75, 0, 22) (0, -3.5, 22) (5.75, 0, 22)
sketch "Sketch4" plane through (0, 0, 35) normal (0, 0, 1) x (-1, 0, 0)
  circle A0 centre (0, 0) radius 3.2
  circle A1 centre (0, 0) radius 2.25
  dimension "d23" = 4.5
extrude "Extrude4" add sketch "Sketch4" along normal blind 20 contours A1
